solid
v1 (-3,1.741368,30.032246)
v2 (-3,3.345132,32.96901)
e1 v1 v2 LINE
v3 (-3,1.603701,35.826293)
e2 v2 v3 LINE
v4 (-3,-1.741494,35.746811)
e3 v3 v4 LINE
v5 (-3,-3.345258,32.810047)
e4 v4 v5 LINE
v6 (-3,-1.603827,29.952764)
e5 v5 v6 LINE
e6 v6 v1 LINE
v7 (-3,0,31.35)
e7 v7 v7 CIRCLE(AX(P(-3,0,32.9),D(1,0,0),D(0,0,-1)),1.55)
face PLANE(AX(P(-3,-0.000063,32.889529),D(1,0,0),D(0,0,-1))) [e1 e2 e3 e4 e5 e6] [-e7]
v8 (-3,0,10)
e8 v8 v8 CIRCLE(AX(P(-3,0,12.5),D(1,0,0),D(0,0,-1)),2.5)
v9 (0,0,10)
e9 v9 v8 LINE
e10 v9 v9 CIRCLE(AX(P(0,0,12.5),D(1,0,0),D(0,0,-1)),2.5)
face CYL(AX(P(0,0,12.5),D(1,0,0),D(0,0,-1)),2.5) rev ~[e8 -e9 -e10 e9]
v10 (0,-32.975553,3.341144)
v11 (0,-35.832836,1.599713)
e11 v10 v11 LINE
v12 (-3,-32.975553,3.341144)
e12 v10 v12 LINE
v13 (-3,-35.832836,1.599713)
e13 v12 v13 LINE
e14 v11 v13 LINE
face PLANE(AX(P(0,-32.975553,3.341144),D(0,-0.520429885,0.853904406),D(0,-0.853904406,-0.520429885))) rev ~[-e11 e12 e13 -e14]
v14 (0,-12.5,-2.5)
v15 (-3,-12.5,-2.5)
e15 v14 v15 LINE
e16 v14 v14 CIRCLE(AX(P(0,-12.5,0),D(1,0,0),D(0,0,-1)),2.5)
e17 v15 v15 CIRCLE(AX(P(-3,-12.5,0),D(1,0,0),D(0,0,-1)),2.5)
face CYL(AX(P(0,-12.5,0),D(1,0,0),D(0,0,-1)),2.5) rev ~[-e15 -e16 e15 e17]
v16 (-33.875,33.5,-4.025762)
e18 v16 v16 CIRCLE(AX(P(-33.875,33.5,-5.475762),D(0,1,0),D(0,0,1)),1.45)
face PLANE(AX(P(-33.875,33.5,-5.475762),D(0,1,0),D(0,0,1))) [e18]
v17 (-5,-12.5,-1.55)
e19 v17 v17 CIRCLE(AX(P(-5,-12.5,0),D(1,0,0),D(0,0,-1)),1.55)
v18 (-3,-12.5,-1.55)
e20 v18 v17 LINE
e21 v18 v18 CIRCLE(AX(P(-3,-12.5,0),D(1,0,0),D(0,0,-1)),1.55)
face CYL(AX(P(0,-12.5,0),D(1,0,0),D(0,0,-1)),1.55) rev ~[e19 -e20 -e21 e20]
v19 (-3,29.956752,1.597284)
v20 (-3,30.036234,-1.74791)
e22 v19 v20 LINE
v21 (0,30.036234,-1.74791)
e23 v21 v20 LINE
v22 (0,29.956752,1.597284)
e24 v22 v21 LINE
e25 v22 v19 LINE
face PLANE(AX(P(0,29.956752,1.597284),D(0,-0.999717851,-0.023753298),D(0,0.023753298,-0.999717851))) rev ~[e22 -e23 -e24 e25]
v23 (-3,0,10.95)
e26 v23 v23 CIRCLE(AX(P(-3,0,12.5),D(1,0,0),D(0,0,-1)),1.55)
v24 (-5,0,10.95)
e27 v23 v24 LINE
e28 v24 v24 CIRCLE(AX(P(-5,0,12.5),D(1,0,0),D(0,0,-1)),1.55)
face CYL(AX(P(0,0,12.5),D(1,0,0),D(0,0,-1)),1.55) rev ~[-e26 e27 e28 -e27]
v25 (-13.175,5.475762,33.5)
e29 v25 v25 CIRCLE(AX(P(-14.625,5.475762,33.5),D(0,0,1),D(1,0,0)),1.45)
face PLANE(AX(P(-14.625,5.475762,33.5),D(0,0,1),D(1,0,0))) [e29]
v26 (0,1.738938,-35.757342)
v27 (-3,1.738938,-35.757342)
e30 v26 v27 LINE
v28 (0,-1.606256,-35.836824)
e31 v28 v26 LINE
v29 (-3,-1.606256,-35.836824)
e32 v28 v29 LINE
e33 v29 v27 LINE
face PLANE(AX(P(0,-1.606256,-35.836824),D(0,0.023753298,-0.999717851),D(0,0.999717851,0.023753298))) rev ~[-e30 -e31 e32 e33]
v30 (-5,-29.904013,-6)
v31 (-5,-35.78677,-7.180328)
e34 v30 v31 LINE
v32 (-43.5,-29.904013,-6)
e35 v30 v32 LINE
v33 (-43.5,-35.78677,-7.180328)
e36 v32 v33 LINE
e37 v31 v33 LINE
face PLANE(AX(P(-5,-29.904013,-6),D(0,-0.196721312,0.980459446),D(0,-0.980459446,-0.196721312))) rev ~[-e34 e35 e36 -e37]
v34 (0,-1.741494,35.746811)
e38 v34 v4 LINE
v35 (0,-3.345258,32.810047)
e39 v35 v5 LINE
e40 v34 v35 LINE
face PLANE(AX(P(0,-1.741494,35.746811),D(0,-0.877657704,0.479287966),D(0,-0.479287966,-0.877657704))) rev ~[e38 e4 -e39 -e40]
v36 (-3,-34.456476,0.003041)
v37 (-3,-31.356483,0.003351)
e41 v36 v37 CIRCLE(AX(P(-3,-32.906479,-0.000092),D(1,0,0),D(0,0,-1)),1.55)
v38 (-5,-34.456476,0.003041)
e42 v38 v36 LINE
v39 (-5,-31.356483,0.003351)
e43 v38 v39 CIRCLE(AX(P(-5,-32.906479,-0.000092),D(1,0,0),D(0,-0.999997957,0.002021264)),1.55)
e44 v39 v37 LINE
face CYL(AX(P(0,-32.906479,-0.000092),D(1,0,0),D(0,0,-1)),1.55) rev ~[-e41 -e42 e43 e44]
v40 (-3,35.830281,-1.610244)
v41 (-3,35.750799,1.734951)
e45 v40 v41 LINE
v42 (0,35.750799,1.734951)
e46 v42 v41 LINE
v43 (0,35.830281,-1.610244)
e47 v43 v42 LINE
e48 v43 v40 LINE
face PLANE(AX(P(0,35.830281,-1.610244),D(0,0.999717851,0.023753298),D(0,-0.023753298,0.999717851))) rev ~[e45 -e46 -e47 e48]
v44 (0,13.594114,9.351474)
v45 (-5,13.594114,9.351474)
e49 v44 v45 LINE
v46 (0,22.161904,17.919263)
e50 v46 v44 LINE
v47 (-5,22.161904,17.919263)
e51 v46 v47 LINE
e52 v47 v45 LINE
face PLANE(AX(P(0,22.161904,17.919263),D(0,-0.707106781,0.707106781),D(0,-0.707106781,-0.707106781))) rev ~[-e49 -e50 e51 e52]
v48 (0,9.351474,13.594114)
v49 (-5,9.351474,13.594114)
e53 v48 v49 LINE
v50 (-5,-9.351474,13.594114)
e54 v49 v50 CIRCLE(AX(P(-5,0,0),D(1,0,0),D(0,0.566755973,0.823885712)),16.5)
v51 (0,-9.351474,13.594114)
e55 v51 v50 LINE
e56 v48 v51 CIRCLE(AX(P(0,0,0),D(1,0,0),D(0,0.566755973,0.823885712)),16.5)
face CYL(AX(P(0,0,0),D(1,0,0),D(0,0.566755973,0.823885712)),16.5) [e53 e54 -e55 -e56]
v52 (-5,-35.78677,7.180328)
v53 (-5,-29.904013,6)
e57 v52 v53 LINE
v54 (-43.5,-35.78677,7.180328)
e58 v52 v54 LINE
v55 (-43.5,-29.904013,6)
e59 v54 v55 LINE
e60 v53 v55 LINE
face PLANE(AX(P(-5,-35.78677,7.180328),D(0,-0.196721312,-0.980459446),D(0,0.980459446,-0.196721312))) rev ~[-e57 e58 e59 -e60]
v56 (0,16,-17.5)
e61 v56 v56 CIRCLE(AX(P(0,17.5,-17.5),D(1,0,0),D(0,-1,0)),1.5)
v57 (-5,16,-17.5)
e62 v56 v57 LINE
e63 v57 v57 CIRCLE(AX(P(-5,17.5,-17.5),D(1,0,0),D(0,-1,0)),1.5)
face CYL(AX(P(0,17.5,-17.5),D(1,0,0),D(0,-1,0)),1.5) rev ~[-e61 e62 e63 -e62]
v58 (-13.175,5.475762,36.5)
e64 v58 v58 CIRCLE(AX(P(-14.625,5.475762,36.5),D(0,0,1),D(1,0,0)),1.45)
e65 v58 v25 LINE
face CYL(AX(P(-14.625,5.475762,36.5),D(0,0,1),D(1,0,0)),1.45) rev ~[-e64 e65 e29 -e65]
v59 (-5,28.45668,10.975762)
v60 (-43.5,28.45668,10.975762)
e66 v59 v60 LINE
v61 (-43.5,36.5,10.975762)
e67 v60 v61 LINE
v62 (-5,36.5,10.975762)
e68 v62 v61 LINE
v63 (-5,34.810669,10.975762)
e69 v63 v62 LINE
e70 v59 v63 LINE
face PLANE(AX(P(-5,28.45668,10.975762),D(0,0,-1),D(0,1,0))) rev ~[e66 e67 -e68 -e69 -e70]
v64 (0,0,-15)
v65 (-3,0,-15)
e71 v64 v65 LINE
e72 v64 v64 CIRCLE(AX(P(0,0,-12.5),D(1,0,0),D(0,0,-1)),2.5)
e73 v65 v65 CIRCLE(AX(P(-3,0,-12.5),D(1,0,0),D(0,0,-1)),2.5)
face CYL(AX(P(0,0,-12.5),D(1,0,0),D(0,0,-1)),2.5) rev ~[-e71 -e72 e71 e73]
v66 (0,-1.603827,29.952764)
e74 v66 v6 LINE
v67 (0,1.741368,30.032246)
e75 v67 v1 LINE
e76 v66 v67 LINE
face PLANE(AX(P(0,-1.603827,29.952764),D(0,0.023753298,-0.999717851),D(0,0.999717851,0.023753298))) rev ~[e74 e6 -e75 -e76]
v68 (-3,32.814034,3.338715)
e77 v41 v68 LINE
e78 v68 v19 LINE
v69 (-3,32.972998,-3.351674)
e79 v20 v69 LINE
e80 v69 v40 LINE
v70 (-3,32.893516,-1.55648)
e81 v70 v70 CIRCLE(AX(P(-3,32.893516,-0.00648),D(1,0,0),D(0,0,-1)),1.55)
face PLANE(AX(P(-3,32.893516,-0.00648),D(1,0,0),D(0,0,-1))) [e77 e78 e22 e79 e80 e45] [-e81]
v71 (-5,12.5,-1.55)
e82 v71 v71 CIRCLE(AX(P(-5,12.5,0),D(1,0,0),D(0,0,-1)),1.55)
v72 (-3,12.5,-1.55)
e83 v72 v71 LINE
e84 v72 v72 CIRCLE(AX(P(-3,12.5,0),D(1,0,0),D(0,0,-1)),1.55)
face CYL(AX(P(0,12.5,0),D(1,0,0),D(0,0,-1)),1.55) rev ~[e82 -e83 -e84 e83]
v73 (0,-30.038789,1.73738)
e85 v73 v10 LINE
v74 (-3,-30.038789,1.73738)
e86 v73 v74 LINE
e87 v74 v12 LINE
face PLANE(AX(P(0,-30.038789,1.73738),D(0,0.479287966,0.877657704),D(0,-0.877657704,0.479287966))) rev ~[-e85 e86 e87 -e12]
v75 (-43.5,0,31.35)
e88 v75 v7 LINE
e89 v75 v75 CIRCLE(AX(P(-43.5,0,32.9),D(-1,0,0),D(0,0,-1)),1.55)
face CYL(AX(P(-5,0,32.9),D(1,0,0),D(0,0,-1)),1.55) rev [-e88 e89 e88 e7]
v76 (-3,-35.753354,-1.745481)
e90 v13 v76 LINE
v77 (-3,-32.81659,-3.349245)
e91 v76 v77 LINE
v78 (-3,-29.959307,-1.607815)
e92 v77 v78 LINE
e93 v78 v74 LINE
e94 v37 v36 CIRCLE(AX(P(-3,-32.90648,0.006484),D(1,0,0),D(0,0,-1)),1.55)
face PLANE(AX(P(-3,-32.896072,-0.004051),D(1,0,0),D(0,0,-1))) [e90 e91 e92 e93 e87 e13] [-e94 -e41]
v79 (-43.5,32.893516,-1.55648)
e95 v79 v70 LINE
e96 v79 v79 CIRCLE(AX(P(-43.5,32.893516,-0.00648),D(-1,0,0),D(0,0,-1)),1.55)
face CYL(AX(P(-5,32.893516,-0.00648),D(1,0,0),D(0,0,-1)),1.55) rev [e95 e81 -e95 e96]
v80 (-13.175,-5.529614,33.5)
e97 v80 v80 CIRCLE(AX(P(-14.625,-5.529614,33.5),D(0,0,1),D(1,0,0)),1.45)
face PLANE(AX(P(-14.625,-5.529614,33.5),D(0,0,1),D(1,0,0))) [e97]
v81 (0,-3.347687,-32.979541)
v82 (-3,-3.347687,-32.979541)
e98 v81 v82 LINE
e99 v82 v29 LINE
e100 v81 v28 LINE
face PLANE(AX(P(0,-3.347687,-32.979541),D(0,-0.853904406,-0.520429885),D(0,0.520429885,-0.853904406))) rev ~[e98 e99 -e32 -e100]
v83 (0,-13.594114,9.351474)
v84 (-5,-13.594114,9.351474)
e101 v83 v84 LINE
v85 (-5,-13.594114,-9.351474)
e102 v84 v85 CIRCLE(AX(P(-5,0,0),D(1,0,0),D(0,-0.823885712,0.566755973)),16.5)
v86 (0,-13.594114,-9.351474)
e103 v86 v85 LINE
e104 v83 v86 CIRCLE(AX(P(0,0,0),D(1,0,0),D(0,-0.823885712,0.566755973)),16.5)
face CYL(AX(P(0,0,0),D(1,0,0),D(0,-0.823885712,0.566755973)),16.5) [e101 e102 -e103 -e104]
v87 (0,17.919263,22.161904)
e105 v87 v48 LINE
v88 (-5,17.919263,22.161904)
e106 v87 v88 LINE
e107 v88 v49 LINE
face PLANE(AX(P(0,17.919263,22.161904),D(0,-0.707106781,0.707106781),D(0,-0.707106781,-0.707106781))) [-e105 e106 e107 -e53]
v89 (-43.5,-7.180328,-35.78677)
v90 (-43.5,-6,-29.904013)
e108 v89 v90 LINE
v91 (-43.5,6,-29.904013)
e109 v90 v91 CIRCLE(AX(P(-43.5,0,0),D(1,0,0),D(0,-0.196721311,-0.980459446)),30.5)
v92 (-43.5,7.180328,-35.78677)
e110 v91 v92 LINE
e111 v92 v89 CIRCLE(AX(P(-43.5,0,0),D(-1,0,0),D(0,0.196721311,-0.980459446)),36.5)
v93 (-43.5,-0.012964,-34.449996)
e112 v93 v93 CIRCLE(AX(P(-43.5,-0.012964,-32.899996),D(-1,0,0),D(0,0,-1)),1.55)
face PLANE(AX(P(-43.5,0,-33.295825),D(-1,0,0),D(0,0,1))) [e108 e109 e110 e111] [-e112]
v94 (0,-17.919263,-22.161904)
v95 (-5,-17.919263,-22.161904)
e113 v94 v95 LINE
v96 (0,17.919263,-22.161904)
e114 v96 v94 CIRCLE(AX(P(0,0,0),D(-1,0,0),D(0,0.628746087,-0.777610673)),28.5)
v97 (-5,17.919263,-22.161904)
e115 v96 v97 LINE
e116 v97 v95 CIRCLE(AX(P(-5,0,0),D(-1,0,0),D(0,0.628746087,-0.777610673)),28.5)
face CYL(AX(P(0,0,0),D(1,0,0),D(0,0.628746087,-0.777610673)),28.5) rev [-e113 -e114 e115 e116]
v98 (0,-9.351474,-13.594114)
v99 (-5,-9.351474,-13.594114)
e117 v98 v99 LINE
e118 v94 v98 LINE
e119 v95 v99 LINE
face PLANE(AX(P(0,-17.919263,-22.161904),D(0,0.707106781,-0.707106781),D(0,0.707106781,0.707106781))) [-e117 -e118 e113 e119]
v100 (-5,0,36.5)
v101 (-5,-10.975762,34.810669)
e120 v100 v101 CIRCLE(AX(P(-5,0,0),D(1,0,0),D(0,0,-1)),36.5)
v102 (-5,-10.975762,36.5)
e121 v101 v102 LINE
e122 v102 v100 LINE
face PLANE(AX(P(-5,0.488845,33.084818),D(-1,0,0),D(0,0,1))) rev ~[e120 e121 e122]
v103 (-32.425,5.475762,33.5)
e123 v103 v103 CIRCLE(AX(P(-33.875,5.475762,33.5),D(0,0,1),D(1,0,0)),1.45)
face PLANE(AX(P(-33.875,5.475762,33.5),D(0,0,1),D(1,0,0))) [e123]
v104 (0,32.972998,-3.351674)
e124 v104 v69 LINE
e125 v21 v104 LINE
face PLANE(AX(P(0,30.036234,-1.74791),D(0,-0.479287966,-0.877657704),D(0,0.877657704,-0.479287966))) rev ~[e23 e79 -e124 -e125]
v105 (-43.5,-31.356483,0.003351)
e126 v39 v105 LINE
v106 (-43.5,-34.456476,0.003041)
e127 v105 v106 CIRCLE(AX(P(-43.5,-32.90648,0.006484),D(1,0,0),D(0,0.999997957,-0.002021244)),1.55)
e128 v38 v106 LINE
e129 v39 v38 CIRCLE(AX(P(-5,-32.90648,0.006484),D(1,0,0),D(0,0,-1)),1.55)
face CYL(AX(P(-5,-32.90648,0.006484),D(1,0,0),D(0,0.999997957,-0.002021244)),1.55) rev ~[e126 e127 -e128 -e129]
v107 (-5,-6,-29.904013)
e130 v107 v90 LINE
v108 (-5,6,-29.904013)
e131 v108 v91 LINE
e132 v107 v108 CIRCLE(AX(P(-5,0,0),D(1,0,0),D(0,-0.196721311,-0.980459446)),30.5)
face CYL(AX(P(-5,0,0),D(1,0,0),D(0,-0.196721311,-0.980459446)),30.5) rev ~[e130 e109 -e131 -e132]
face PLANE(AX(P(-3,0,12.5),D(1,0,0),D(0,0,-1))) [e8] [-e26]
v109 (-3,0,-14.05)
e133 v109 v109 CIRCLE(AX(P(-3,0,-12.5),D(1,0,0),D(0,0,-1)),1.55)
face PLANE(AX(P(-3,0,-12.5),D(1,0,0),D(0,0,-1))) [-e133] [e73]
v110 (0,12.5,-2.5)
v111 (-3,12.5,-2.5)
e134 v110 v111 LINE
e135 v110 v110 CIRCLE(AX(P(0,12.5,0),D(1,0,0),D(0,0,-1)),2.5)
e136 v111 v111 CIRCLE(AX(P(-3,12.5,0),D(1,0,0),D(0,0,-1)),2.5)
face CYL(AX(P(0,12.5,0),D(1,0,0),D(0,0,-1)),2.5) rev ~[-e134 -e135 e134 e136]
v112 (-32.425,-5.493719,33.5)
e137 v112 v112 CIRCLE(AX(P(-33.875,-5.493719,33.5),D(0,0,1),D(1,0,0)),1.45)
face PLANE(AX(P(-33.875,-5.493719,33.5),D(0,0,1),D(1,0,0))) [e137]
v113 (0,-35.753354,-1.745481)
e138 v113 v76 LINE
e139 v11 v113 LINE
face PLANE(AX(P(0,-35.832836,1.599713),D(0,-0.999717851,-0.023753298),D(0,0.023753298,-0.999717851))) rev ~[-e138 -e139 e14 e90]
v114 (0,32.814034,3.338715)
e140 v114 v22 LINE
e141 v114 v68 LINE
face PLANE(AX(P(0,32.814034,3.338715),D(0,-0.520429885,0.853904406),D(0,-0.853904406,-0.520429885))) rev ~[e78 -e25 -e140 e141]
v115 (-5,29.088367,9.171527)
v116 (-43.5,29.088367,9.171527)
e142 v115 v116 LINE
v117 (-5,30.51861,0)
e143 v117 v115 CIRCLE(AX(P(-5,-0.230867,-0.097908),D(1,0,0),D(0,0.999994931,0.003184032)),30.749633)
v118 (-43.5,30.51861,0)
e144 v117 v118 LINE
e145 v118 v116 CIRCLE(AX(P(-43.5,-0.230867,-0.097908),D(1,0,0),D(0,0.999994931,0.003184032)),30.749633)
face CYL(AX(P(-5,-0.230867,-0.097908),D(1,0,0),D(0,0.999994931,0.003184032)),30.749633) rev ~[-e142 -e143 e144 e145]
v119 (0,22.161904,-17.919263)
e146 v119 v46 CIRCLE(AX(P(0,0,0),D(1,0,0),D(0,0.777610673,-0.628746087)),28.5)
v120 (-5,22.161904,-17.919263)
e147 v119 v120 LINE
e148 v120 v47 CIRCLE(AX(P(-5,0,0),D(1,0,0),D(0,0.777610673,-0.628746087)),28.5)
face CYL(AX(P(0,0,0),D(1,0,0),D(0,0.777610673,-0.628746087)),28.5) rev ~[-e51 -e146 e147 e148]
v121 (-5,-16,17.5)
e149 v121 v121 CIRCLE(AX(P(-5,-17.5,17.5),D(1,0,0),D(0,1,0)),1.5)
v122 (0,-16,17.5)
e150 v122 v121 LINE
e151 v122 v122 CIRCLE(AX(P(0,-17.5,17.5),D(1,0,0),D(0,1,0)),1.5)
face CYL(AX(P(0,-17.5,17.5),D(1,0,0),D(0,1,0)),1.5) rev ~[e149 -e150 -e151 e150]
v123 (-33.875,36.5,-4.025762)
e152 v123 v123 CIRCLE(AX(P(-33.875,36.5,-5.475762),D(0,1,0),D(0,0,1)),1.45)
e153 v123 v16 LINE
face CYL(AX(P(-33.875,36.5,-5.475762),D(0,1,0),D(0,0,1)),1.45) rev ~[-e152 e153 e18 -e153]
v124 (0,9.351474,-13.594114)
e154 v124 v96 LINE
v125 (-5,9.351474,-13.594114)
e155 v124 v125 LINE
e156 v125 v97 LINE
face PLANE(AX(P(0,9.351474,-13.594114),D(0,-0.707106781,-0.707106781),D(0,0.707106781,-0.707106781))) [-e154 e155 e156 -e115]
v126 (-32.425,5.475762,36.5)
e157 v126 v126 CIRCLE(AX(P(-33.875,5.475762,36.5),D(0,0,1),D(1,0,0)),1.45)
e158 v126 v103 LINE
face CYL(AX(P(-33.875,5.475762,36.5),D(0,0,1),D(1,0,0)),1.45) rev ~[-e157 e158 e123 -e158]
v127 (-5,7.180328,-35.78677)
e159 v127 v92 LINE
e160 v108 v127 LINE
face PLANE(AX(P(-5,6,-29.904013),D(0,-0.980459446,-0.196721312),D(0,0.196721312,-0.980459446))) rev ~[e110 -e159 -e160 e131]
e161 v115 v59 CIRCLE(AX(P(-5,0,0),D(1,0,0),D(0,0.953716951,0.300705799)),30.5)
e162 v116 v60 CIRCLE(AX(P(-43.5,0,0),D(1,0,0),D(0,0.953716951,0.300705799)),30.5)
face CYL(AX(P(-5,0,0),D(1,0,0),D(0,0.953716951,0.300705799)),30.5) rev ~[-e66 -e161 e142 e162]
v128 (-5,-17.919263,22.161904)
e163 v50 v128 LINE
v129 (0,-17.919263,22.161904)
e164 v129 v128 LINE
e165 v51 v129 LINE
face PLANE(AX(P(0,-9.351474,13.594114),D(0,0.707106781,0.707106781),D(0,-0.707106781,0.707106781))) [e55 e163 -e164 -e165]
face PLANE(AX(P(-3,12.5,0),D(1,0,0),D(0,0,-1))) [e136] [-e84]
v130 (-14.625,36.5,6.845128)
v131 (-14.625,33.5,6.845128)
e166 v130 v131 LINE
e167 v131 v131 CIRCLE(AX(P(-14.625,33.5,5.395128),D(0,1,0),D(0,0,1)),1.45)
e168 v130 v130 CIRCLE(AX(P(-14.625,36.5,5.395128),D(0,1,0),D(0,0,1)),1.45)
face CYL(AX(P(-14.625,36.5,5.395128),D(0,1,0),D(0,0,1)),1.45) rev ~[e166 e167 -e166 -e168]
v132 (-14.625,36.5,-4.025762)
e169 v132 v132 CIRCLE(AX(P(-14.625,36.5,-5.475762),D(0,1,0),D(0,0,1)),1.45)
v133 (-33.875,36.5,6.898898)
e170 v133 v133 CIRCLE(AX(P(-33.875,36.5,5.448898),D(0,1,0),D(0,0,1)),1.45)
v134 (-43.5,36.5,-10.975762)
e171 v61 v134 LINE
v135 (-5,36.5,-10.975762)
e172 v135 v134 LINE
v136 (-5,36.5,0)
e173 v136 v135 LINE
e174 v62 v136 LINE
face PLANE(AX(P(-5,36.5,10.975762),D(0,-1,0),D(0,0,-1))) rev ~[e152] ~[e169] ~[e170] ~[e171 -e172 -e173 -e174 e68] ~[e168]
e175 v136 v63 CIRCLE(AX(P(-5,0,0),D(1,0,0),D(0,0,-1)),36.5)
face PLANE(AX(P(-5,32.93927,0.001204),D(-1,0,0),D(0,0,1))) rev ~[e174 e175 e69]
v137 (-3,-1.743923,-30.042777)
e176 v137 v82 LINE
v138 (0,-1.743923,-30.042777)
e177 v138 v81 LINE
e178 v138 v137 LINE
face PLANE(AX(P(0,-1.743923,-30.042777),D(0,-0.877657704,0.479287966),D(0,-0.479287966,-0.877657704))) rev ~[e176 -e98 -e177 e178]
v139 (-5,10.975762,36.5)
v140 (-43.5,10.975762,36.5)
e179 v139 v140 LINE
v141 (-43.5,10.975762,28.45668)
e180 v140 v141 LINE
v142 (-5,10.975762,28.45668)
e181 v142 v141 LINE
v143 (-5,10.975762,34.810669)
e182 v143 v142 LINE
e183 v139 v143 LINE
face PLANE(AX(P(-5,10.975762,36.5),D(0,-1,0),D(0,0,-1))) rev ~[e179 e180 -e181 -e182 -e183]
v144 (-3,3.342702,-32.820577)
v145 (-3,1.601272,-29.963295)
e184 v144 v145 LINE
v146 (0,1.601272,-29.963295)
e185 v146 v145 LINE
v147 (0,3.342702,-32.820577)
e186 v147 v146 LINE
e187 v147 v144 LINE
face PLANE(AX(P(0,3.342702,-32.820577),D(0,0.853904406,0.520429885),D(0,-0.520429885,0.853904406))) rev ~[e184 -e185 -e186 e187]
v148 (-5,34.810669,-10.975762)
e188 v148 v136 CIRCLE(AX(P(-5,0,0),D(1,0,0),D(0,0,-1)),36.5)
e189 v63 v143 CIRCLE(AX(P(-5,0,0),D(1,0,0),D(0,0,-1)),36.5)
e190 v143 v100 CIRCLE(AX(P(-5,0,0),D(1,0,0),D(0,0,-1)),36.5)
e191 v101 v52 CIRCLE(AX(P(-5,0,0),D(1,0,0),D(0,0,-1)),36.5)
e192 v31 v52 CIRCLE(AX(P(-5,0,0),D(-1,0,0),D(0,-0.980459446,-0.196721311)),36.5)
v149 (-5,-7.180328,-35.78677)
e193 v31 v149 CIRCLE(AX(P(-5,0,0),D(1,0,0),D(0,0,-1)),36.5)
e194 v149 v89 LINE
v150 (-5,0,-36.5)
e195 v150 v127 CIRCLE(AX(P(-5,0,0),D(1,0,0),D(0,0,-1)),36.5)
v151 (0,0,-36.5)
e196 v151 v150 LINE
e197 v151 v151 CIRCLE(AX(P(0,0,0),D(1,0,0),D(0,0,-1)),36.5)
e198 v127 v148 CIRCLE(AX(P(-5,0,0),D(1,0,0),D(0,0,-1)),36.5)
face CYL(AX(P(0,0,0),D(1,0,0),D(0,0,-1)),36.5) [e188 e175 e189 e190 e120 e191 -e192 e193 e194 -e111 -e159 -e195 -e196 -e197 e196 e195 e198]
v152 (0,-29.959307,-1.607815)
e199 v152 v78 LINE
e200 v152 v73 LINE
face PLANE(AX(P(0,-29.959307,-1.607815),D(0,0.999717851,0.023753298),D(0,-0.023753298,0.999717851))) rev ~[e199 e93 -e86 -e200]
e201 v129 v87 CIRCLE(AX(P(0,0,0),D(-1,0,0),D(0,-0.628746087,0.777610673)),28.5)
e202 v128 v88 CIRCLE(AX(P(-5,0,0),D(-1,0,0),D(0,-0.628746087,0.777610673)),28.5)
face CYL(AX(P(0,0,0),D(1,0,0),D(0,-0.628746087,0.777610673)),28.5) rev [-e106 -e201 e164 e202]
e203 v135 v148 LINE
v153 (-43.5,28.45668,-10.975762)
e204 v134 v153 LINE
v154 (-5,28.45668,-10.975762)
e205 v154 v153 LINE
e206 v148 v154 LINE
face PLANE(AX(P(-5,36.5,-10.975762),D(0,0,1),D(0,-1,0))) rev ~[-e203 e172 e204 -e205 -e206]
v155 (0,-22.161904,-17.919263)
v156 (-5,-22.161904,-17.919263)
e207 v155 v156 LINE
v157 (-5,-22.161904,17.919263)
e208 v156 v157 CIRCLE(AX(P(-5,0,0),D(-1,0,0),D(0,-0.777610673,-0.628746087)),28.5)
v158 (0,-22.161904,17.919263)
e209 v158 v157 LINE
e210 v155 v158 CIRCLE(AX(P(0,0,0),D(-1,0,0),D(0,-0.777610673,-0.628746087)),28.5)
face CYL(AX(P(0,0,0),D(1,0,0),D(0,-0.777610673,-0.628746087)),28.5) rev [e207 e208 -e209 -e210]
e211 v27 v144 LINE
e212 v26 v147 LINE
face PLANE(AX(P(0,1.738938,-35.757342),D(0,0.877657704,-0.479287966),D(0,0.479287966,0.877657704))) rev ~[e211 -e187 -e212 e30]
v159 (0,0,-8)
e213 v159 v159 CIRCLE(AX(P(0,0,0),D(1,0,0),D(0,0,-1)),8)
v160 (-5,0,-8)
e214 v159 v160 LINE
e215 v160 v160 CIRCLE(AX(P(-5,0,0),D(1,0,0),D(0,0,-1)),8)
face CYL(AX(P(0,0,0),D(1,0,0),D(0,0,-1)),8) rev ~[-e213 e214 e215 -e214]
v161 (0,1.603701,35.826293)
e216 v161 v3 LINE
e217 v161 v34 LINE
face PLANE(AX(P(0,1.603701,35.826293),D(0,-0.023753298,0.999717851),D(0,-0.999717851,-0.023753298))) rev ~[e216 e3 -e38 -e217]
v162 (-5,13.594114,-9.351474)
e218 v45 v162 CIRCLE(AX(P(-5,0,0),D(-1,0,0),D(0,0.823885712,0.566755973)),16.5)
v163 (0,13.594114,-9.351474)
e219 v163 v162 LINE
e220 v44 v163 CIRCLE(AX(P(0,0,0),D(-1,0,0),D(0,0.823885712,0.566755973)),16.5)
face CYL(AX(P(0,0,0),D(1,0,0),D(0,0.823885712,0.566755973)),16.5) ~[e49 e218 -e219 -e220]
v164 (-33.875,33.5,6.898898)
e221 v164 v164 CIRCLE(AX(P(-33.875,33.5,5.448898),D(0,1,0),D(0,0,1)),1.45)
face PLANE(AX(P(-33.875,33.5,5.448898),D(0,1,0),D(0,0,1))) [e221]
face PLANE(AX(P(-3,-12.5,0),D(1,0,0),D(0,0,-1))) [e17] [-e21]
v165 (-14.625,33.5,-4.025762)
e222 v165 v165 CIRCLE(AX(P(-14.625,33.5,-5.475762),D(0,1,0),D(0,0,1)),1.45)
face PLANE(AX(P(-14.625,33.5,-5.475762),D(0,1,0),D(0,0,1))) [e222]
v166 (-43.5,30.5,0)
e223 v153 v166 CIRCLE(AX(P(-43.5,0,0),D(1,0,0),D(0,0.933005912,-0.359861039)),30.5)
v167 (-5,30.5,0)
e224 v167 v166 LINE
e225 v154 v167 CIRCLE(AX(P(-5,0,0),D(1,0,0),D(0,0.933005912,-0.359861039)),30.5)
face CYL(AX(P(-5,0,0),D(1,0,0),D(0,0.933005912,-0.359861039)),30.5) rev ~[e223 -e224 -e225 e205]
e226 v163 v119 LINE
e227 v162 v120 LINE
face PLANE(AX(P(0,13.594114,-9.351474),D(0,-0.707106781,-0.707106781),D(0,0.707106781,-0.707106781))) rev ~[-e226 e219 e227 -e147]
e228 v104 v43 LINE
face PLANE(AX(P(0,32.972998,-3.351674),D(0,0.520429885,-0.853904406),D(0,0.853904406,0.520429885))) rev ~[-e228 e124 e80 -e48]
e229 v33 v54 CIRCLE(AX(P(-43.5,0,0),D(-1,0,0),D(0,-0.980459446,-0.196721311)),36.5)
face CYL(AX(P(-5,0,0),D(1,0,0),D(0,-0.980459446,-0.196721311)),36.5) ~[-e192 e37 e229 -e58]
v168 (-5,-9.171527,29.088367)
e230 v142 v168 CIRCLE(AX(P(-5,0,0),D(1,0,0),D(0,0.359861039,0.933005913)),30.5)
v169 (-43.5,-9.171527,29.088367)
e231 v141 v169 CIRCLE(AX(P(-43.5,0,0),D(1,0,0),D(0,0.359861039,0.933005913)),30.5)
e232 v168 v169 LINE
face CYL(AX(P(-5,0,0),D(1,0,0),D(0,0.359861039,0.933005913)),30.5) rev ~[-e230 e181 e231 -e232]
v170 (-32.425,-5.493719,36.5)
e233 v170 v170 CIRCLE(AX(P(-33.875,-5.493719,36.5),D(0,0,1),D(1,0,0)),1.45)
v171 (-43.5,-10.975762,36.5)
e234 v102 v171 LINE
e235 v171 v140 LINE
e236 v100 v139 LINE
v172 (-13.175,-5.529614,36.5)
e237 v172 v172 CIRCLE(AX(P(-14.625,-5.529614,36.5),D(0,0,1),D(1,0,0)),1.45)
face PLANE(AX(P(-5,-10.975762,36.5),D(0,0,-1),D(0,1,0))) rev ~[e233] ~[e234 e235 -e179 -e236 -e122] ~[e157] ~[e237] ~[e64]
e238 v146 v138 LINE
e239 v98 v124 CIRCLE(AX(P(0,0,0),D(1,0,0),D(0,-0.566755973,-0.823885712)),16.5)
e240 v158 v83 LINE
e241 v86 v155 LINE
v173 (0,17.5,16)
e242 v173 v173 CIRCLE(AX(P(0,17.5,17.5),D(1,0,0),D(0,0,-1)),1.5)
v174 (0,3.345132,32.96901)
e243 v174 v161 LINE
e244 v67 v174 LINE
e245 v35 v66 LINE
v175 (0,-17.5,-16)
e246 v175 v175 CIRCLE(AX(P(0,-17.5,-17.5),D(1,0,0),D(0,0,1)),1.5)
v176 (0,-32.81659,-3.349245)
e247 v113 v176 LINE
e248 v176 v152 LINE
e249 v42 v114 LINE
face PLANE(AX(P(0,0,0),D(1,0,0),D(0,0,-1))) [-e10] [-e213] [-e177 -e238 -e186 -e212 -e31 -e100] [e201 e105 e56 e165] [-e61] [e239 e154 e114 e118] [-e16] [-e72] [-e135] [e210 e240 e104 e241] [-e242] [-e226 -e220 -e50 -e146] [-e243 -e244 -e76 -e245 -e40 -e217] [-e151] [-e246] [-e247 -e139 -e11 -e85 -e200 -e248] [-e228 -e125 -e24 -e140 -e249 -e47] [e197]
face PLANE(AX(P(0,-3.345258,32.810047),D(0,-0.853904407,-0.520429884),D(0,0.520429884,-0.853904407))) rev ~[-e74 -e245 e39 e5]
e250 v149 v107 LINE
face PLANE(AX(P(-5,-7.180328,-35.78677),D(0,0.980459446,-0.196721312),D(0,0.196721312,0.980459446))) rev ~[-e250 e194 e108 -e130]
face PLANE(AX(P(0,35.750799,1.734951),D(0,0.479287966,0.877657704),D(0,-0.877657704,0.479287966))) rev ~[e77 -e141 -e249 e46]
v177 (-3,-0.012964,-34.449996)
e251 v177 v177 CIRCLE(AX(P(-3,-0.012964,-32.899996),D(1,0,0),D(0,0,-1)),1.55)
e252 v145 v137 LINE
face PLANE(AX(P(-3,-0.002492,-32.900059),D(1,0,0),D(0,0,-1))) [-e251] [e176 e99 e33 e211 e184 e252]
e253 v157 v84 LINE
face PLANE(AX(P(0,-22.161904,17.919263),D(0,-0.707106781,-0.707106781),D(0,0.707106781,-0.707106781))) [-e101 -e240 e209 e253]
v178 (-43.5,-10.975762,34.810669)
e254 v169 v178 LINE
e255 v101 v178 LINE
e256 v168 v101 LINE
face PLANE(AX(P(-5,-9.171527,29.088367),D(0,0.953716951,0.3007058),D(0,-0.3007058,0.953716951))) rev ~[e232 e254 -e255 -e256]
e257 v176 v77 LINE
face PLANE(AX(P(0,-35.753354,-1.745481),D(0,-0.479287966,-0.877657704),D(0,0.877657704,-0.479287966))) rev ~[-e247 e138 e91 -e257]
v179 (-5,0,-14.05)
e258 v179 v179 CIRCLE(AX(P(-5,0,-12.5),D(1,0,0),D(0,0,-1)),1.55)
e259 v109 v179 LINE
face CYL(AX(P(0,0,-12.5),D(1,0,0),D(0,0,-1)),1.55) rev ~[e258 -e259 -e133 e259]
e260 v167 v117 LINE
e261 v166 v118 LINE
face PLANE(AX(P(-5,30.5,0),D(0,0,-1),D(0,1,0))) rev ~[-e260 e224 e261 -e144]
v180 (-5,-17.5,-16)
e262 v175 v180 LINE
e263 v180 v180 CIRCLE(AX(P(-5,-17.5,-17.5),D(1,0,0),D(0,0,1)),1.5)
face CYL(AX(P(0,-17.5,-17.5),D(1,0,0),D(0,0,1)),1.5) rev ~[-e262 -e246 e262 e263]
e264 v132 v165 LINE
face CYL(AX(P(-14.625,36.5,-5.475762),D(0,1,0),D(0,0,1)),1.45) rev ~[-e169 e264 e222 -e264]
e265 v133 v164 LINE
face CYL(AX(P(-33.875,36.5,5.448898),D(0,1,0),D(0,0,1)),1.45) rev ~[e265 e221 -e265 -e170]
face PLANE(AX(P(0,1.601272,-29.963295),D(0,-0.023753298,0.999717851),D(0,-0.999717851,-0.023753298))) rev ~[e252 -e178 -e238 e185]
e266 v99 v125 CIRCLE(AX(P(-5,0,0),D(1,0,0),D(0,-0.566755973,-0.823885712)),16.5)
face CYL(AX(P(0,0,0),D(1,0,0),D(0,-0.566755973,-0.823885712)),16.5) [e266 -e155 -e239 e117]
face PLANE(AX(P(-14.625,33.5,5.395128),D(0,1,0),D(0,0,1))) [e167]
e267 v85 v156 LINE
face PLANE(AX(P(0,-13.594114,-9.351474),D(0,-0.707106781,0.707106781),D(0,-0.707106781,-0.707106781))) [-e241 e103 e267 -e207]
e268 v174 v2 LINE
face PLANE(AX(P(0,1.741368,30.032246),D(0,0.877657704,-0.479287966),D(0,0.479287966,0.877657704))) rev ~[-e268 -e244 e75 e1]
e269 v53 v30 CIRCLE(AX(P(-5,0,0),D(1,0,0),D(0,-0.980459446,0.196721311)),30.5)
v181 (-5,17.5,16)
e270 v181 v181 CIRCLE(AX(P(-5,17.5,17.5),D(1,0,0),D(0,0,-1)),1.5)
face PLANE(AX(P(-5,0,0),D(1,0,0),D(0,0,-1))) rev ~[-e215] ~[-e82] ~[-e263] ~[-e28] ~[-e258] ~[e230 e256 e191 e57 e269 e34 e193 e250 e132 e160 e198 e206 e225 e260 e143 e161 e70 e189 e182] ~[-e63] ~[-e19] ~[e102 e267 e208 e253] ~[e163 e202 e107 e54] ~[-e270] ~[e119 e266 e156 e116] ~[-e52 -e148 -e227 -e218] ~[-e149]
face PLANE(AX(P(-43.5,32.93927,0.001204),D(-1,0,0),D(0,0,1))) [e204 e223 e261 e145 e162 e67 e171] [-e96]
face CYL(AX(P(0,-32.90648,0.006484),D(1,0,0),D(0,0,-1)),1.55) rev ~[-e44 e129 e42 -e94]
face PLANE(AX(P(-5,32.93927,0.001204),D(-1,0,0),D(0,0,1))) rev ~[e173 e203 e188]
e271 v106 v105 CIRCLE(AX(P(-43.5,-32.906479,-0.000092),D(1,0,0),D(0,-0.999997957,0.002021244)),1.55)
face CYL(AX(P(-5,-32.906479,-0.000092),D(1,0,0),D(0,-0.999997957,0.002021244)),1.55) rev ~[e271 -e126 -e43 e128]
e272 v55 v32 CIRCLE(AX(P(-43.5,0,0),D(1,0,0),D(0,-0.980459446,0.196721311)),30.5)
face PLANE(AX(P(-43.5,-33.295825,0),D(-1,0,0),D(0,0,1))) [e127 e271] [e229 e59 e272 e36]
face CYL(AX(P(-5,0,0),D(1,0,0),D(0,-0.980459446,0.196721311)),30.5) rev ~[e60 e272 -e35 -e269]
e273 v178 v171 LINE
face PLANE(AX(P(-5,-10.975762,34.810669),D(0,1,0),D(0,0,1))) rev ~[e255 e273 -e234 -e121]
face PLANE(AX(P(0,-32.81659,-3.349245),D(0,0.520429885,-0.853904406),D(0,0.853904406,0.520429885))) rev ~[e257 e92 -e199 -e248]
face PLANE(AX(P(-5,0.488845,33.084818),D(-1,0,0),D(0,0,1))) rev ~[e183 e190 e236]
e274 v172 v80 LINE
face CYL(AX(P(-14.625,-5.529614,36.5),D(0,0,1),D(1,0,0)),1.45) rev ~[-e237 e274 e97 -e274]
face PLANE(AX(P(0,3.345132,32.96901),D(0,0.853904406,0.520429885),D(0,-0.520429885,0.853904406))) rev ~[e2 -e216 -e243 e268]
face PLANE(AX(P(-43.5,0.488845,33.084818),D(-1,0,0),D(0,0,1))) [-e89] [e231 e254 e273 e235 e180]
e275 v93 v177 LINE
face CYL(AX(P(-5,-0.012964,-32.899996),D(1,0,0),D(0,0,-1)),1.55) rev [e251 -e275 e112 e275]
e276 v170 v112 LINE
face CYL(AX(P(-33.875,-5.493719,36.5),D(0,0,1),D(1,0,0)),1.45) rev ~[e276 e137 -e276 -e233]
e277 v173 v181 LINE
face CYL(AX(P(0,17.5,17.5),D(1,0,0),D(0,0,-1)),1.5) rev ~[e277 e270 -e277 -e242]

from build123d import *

# Parameters (mm, degrees)
SKETCH_1_R               = 36.5
SKETCH_1_R_2             = 1.55
SKETCH_1_R_3             = 8
EXTRUDE_1_DEPTH          = 5
CUT_EXTRUDE_2_REACH      = 53.86
SKETCH_5_R               = 1.55
CUT_EXTRUDE_3_REACH      = 53.86
SKETCH_7_R               = 1.55
CUT_EXTRUDE_4_DEPTH      = 3
SKETCH_9_R               = 1.55
EXTRUDE_4_DEPTH          = 38.5
SKETCH_10_R              = 1.5
CUT_EXTRUDE_5_DEPTH      = 5
PATTERN_CIRCULAR_1_COUNT = 4
SKETCH_16_R              = 1.45
CUT_EXTRUDE_6_DEPTH      = 3
SKETCH_17_R              = 1.45
CUT_EXTRUDE_7_DEPTH      = 3
SKETCH_18_R              = 2.5
CUT_EXTRUDE_8_DEPTH      = 3


with BuildPart() as part:
    # 草图1 → 凸台-拉伸1 (new body)
    with BuildSketch(Plane(origin=(0, 0, 0), x_dir=(0, 0, -1), z_dir=(1, 0, 0))):
        Circle(SKETCH_1_R)
        with Locations((0, 12.5)):
            Circle(SKETCH_1_R_2, mode=Mode.SUBTRACT)
        with Locations((12.5, 0)):
            Circle(SKETCH_1_R_2, mode=Mode.SUBTRACT)
        with Locations((0, -12.5)):
            Circle(SKETCH_1_R_2, mode=Mode.SUBTRACT)
        with Locations((-12.5, 0)):
            Circle(SKETCH_1_R_2, mode=Mode.SUBTRACT)
        Circle(SKETCH_1_R_3, mode=Mode.SUBTRACT)
        with BuildLine():
            Line((13.594114249, 9.351473562), (22.161904167, 17.91926348))
            ThreePointArc((22.161904167, 17.91926348), (28.5, 0), (22.161904167, -17.91926348))
            Line((22.161904167, -17.91926348), (13.594114249, -9.351473562))
            ThreePointArc((13.594114249, -9.351473562), (16.5, 0), (13.594114249, 9.351473562))
        make_face(mode=Mode.SUBTRACT)
        with BuildLine():
            Line((9.351473562, 13.594114249), (17.91926348, 22.161904167))
            ThreePointArc((17.91926348, 22.161904167), (0, 28.5), (-17.91926348, 22.161904167))
            Line((-17.91926348, 22.161904167), (-9.351473562, 13.594114249))
            ThreePointArc((-9.351473562, 13.594114249), (0, 16.5), (9.351473562, 13.594114249))
        make_face(mode=Mode.SUBTRACT)
        with BuildLine():
            Line((9.351473562, -13.594114249), (17.91926348, -22.161904167))
            ThreePointArc((17.91926348, -22.161904167), (0, -28.5), (-17.91926348, -22.161904167))
            Line((-17.91926348, -22.161904167), (-9.351473562, -13.594114249))
            ThreePointArc((-9.351473562, -13.594114249), (0, -16.5), (9.351473562, -13.594114249))
        make_face(mode=Mode.SUBTRACT)
        with BuildLine():
            Line((-13.594114249, -9.351473562), (-22.161904167, -17.91926348))
            ThreePointArc((-22.161904167, -17.91926348), (-28.5, 0), (-22.161904167, 17.91926348))
            Line((-22.161904167, 17.91926348), (-13.594114249, 9.351473562))
            ThreePointArc((-13.594114249, 9.351473562), (-16.5, 0), (-13.594114249, -9.351473562))
        make_face(mode=Mode.SUBTRACT)
    extrude(amount=-EXTRUDE_1_DEPTH)

    # 草图5 → 切除-拉伸2 (cut, up to next)
    with BuildSketch(Plane(origin=(0, 0, 0), x_dir=(0, 0, -1), z_dir=(1, 0, 0)), mode=Mode.PRIVATE) as cut_extrude_2_sk1:
        with Locations((-0.006483679, -32.906479867)):
            Circle(SKETCH_5_R)
    cut_extrude_2_tool1 = extrude(cut_extrude_2_sk1.sketch, amount=-CUT_EXTRUDE_2_REACH, mode=Mode.PRIVATE) & part.part
    # 草图5 → 切除-拉伸2 (cut, up to next)
    with BuildSketch(Plane(origin=(0, 0, 0), x_dir=(0, 0, -1), z_dir=(1, 0, 0)), mode=Mode.PRIVATE) as cut_extrude_2_sk2:
        with Locations((-32.9, 0)):
            Circle(SKETCH_5_R)
    cut_extrude_2_tool2 = extrude(cut_extrude_2_sk2.sketch, amount=-CUT_EXTRUDE_2_REACH, mode=Mode.PRIVATE) & part.part
    # 草图5 → 切除-拉伸2 (cut, up to next)
    with BuildSketch(Plane(origin=(0, 0, 0), x_dir=(0, 0, -1), z_dir=(1, 0, 0)), mode=Mode.PRIVATE) as cut_extrude_2_sk3:
        with Locations((0.006479867, 32.893516321)):
            Circle(SKETCH_5_R)
    cut_extrude_2_tool3 = extrude(cut_extrude_2_sk3.sketch, amount=-CUT_EXTRUDE_2_REACH, mode=Mode.PRIVATE) & part.part
    # 草图5 → 切除-拉伸2 (cut, up to next)
    with BuildSketch(Plane(origin=(0, 0, 0), x_dir=(0, 0, -1), z_dir=(1, 0, 0)), mode=Mode.PRIVATE) as cut_extrude_2_sk4:
        with Locations((32.899996188, -0.012963547)):
            Circle(SKETCH_5_R)
    cut_extrude_2_tool4 = extrude(cut_extrude_2_sk4.sketch, amount=-CUT_EXTRUDE_2_REACH, mode=Mode.PRIVATE) & part.part
    add(cut_extrude_2_tool1.solids().sort_by_distance((0, -32.90648, 0.006484))[0], mode=Mode.SUBTRACT)
    add(cut_extrude_2_tool2.solids().sort_by_distance((0, 0, 32.9))[0], mode=Mode.SUBTRACT)
    add(cut_extrude_2_tool3.solids().sort_by_distance((0, 32.893516, -0.00648))[0], mode=Mode.SUBTRACT)
    add(cut_extrude_2_tool4.solids().sort_by_distance((0, -0.012964, -32.899996))[0], mode=Mode.SUBTRACT)

    # 草图7 → 切除-拉伸3 (cut, up to next)
    with BuildSketch(Plane(origin=(0, 0, 0), x_dir=(0, 0, -1), z_dir=(1, 0, 0)), mode=Mode.PRIVATE) as cut_extrude_3_sk1:
        with Locations((9.1971e-05, -32.90647921)):
            Circle(SKETCH_7_R)
    cut_extrude_3_tool1 = extrude(cut_extrude_3_sk1.sketch, amount=-CUT_EXTRUDE_3_REACH, mode=Mode.PRIVATE) & part.part
    add(cut_extrude_3_tool1.solids().sort_by_distance((0, -32.906479, -9.2e-05))[0], mode=Mode.SUBTRACT)

    # 草图8 → 切除-拉伸4 (cut)
    with BuildSketch(Plane(origin=(0, 0, 0), x_dir=(0, 0, -1), z_dir=(1, 0, 0))):
        Polygon((35.836823617, -1.606256173), (35.757341789, 1.738938409), (32.820577385, 3.342702418), (29.963294811, 1.601271844), (30.042776639, -1.743922738), (32.979541042, -3.347686747), align=None)
        Polygon((3.35167445, 32.972998149), (1.610243876, 35.830280724), (-1.734950706, 35.750798895), (-3.338714715, 32.814034492), (-1.597284141, 29.956751917), (1.747910441, 30.036233746), align=None)
        Polygon((-1.59971328, -35.832835914), (1.745481303, -35.753354086), (3.349245312, -32.816589682), (1.607814738, -29.959307107), (-1.737379845, -30.038788936), (-3.341143854, -32.975553339), align=None)
        Polygon((-35.826293021, 1.603700983), (-35.746811192, -1.7414936), (-32.810046789, -3.345257608), (-29.952764214, -1.603827035), (-30.032246042, 1.741367548), (-32.969010446, 3.345131557), align=None)
    extrude(amount=-CUT_EXTRUDE_4_DEPTH, mode=Mode.SUBTRACT)

    # 草图9 → 凸台-拉伸4 (add)
    # profile 1 of 4: a face of its own
    with BuildSketch(Plane.ZY.offset(5)):
        with BuildLine():
            Line((-10.975761682, 36.5), (-10.975761682, 28.456680332))
            ThreePointArc((-10.975761682, 28.456680332), (-5.582170272, 29.984819077), (0, 30.5))
            Line((0, 30.5), (0, 30.518609682))
            ThreePointArc((0, 30.518609682), (4.640042689, 30.151557641), (9.171526885, 29.088366998))
            ThreePointArc((9.171526885, 29.088366998), (10.078594454, 28.78666243), (10.975761682, 28.456680332))
            Line((10.975761682, 28.456680332), (10.975761682, 36.5))
            Line((10.975761682, 36.5), (-10.975761682, 36.5))
        make_face()
        with Locations(Location((-0.006479867, 32.893516321, 0), (0, 0, 180))):
            Circle(SKETCH_9_R, mode=Mode.SUBTRACT)
    # profile 2 of 4: a face of its own
    with BuildSketch(Plane.ZY.offset(5)):
        with BuildLine():
            Line((-29.904013109, 6), (-35.786769786, 7.180327869))
            ThreePointArc((-35.786769786, 7.180327869), (-36.5, 0), (-35.786769786, -7.180327869))
            Line((-35.786769786, -7.180327869), (-29.904013109, -6))
            ThreePointArc((-29.904013109, -6), (-30.5, 0), (-29.904013109, 6))
        make_face()
        with Locations(Location((-32.899996188, -0.012963547, 0), (0, 0, 180))):
            Circle(SKETCH_9_R, mode=Mode.SUBTRACT)
    # profile 3 of 4: a face of its own
    with BuildSketch(Plane.ZY.offset(5)):
        with BuildLine():
            Line((36.5, 10.975761682), (28.456680332, 10.975761682))
            ThreePointArc((28.456680332, 10.975761682), (30.485019718, 0.955810029), (29.088366998, -9.171526885))
            Line((29.088366998, -9.171526885), (34.810668702, -10.975761682))
            Line((34.810668702, -10.975761682), (36.5, -10.975761682))
            Line((36.5, -10.975761682), (36.5, 10.975761682))
        make_face()
        with Locations(Location((32.9, 0, 0), (0, 0, 180))):
            Circle(SKETCH_9_R, mode=Mode.SUBTRACT)
    # profile 4 of 4: a face of its own
    with BuildSketch(Plane.ZY.offset(5)):
        with BuildLine():
            Line((-6, -29.904013109), (-7.180327869, -35.786769786))
            ThreePointArc((-7.180327869, -35.786769786), (0, -36.5), (7.180327869, -35.786769786))
            Line((7.180327869, -35.786769786), (6, -29.904013109))
            ThreePointArc((6, -29.904013109), (0, -30.5), (-6, -29.904013109))
        make_face()
        with BuildLine():
            ThreePointArc((0.003040957, -34.456476044), (-1.550091963, -32.906324313), (0.003350752, -31.356483034))
            ThreePointArc((0.003350752, -31.356483034), (1.556483672, -32.906634765), (0.003040957, -34.456476044))
        make_face(mode=Mode.SUBTRACT)
    extrude(amount=EXTRUDE_4_DEPTH)

    # 草图10 → 切除-拉伸5 (cut)
    with BuildSketch(Plane(origin=(0, 0, 0), x_dir=(0, 0, -1), z_dir=(1, 0, 0))):
        with Locations((-17.5, 17.5)):
            Circle(SKETCH_10_R)
    cut_extrude_5 = extrude(amount=-CUT_EXTRUDE_5_DEPTH, mode=Mode.SUBTRACT)

    # 阵列(圆周)1: 切除-拉伸5 ×4 about axis
    pattern_circular_1_axis = Axis((0, 0, 0), (1, 0, 0))
    for i in range(1, PATTERN_CIRCULAR_1_COUNT):
        add(cut_extrude_5.rotate(pattern_circular_1_axis, i * 360 / PATTERN_CIRCULAR_1_COUNT), mode=Mode.SUBTRACT)

    # 草图16 → 切除-拉伸6 (cut)
    with BuildSketch(Plane.XY.offset(36.5)):
        with Locations((-33.875, 5.475761682)):
            Circle(SKETCH_16_R)
        with Locations((-14.625, 5.475761682)):
            Circle(SKETCH_16_R)
        with Locations((-33.875, -5.493718925)):
            Circle(SKETCH_16_R)
        with Locations((-14.625, -5.529614372)):
            Circle(SKETCH_16_R)
    extrude(amount=-CUT_EXTRUDE_6_DEPTH, mode=Mode.SUBTRACT)

    # 草图17 → 切除-拉伸7 (cut)
    with BuildSketch(Plane(origin=(0, 36.5, 0), x_dir=(1, 0, 0), z_dir=(0, 1, 0))):
        with Locations(Location((-33.875, 5.475761682, 0), (0, 0, 270))):
            Circle(SKETCH_17_R)
        with Locations(Location((-14.625, 5.475761682, 0), (0, 0, 270))):
            Circle(SKETCH_17_R)
        with Locations(Location((-33.875, -5.448898044, 0), (0, 0, 270))):
            Circle(SKETCH_17_R)
        with Locations(Location((-14.625, -5.395128045, 0), (0, 0, 270))):
            Circle(SKETCH_17_R)
    extrude(amount=-CUT_EXTRUDE_7_DEPTH, mode=Mode.SUBTRACT)

    # 草图18 → 切除-拉伸8 (cut)
    with BuildSketch(Plane(origin=(0, 0, 0), x_dir=(0, 0, -1), z_dir=(1, 0, 0))):
        with Locations((0, -12.5)):
            Circle(SKETCH_18_R)
        with Locations((12.5, 0)):
            Circle(SKETCH_18_R)
        with Locations((0, 12.5)):
            Circle(SKETCH_18_R)
        with Locations((-12.5, 0)):
            Circle(SKETCH_18_R)
    extrude(amount=-CUT_EXTRUDE_8_DEPTH, mode=Mode.SUBTRACT)


solid = part.part
